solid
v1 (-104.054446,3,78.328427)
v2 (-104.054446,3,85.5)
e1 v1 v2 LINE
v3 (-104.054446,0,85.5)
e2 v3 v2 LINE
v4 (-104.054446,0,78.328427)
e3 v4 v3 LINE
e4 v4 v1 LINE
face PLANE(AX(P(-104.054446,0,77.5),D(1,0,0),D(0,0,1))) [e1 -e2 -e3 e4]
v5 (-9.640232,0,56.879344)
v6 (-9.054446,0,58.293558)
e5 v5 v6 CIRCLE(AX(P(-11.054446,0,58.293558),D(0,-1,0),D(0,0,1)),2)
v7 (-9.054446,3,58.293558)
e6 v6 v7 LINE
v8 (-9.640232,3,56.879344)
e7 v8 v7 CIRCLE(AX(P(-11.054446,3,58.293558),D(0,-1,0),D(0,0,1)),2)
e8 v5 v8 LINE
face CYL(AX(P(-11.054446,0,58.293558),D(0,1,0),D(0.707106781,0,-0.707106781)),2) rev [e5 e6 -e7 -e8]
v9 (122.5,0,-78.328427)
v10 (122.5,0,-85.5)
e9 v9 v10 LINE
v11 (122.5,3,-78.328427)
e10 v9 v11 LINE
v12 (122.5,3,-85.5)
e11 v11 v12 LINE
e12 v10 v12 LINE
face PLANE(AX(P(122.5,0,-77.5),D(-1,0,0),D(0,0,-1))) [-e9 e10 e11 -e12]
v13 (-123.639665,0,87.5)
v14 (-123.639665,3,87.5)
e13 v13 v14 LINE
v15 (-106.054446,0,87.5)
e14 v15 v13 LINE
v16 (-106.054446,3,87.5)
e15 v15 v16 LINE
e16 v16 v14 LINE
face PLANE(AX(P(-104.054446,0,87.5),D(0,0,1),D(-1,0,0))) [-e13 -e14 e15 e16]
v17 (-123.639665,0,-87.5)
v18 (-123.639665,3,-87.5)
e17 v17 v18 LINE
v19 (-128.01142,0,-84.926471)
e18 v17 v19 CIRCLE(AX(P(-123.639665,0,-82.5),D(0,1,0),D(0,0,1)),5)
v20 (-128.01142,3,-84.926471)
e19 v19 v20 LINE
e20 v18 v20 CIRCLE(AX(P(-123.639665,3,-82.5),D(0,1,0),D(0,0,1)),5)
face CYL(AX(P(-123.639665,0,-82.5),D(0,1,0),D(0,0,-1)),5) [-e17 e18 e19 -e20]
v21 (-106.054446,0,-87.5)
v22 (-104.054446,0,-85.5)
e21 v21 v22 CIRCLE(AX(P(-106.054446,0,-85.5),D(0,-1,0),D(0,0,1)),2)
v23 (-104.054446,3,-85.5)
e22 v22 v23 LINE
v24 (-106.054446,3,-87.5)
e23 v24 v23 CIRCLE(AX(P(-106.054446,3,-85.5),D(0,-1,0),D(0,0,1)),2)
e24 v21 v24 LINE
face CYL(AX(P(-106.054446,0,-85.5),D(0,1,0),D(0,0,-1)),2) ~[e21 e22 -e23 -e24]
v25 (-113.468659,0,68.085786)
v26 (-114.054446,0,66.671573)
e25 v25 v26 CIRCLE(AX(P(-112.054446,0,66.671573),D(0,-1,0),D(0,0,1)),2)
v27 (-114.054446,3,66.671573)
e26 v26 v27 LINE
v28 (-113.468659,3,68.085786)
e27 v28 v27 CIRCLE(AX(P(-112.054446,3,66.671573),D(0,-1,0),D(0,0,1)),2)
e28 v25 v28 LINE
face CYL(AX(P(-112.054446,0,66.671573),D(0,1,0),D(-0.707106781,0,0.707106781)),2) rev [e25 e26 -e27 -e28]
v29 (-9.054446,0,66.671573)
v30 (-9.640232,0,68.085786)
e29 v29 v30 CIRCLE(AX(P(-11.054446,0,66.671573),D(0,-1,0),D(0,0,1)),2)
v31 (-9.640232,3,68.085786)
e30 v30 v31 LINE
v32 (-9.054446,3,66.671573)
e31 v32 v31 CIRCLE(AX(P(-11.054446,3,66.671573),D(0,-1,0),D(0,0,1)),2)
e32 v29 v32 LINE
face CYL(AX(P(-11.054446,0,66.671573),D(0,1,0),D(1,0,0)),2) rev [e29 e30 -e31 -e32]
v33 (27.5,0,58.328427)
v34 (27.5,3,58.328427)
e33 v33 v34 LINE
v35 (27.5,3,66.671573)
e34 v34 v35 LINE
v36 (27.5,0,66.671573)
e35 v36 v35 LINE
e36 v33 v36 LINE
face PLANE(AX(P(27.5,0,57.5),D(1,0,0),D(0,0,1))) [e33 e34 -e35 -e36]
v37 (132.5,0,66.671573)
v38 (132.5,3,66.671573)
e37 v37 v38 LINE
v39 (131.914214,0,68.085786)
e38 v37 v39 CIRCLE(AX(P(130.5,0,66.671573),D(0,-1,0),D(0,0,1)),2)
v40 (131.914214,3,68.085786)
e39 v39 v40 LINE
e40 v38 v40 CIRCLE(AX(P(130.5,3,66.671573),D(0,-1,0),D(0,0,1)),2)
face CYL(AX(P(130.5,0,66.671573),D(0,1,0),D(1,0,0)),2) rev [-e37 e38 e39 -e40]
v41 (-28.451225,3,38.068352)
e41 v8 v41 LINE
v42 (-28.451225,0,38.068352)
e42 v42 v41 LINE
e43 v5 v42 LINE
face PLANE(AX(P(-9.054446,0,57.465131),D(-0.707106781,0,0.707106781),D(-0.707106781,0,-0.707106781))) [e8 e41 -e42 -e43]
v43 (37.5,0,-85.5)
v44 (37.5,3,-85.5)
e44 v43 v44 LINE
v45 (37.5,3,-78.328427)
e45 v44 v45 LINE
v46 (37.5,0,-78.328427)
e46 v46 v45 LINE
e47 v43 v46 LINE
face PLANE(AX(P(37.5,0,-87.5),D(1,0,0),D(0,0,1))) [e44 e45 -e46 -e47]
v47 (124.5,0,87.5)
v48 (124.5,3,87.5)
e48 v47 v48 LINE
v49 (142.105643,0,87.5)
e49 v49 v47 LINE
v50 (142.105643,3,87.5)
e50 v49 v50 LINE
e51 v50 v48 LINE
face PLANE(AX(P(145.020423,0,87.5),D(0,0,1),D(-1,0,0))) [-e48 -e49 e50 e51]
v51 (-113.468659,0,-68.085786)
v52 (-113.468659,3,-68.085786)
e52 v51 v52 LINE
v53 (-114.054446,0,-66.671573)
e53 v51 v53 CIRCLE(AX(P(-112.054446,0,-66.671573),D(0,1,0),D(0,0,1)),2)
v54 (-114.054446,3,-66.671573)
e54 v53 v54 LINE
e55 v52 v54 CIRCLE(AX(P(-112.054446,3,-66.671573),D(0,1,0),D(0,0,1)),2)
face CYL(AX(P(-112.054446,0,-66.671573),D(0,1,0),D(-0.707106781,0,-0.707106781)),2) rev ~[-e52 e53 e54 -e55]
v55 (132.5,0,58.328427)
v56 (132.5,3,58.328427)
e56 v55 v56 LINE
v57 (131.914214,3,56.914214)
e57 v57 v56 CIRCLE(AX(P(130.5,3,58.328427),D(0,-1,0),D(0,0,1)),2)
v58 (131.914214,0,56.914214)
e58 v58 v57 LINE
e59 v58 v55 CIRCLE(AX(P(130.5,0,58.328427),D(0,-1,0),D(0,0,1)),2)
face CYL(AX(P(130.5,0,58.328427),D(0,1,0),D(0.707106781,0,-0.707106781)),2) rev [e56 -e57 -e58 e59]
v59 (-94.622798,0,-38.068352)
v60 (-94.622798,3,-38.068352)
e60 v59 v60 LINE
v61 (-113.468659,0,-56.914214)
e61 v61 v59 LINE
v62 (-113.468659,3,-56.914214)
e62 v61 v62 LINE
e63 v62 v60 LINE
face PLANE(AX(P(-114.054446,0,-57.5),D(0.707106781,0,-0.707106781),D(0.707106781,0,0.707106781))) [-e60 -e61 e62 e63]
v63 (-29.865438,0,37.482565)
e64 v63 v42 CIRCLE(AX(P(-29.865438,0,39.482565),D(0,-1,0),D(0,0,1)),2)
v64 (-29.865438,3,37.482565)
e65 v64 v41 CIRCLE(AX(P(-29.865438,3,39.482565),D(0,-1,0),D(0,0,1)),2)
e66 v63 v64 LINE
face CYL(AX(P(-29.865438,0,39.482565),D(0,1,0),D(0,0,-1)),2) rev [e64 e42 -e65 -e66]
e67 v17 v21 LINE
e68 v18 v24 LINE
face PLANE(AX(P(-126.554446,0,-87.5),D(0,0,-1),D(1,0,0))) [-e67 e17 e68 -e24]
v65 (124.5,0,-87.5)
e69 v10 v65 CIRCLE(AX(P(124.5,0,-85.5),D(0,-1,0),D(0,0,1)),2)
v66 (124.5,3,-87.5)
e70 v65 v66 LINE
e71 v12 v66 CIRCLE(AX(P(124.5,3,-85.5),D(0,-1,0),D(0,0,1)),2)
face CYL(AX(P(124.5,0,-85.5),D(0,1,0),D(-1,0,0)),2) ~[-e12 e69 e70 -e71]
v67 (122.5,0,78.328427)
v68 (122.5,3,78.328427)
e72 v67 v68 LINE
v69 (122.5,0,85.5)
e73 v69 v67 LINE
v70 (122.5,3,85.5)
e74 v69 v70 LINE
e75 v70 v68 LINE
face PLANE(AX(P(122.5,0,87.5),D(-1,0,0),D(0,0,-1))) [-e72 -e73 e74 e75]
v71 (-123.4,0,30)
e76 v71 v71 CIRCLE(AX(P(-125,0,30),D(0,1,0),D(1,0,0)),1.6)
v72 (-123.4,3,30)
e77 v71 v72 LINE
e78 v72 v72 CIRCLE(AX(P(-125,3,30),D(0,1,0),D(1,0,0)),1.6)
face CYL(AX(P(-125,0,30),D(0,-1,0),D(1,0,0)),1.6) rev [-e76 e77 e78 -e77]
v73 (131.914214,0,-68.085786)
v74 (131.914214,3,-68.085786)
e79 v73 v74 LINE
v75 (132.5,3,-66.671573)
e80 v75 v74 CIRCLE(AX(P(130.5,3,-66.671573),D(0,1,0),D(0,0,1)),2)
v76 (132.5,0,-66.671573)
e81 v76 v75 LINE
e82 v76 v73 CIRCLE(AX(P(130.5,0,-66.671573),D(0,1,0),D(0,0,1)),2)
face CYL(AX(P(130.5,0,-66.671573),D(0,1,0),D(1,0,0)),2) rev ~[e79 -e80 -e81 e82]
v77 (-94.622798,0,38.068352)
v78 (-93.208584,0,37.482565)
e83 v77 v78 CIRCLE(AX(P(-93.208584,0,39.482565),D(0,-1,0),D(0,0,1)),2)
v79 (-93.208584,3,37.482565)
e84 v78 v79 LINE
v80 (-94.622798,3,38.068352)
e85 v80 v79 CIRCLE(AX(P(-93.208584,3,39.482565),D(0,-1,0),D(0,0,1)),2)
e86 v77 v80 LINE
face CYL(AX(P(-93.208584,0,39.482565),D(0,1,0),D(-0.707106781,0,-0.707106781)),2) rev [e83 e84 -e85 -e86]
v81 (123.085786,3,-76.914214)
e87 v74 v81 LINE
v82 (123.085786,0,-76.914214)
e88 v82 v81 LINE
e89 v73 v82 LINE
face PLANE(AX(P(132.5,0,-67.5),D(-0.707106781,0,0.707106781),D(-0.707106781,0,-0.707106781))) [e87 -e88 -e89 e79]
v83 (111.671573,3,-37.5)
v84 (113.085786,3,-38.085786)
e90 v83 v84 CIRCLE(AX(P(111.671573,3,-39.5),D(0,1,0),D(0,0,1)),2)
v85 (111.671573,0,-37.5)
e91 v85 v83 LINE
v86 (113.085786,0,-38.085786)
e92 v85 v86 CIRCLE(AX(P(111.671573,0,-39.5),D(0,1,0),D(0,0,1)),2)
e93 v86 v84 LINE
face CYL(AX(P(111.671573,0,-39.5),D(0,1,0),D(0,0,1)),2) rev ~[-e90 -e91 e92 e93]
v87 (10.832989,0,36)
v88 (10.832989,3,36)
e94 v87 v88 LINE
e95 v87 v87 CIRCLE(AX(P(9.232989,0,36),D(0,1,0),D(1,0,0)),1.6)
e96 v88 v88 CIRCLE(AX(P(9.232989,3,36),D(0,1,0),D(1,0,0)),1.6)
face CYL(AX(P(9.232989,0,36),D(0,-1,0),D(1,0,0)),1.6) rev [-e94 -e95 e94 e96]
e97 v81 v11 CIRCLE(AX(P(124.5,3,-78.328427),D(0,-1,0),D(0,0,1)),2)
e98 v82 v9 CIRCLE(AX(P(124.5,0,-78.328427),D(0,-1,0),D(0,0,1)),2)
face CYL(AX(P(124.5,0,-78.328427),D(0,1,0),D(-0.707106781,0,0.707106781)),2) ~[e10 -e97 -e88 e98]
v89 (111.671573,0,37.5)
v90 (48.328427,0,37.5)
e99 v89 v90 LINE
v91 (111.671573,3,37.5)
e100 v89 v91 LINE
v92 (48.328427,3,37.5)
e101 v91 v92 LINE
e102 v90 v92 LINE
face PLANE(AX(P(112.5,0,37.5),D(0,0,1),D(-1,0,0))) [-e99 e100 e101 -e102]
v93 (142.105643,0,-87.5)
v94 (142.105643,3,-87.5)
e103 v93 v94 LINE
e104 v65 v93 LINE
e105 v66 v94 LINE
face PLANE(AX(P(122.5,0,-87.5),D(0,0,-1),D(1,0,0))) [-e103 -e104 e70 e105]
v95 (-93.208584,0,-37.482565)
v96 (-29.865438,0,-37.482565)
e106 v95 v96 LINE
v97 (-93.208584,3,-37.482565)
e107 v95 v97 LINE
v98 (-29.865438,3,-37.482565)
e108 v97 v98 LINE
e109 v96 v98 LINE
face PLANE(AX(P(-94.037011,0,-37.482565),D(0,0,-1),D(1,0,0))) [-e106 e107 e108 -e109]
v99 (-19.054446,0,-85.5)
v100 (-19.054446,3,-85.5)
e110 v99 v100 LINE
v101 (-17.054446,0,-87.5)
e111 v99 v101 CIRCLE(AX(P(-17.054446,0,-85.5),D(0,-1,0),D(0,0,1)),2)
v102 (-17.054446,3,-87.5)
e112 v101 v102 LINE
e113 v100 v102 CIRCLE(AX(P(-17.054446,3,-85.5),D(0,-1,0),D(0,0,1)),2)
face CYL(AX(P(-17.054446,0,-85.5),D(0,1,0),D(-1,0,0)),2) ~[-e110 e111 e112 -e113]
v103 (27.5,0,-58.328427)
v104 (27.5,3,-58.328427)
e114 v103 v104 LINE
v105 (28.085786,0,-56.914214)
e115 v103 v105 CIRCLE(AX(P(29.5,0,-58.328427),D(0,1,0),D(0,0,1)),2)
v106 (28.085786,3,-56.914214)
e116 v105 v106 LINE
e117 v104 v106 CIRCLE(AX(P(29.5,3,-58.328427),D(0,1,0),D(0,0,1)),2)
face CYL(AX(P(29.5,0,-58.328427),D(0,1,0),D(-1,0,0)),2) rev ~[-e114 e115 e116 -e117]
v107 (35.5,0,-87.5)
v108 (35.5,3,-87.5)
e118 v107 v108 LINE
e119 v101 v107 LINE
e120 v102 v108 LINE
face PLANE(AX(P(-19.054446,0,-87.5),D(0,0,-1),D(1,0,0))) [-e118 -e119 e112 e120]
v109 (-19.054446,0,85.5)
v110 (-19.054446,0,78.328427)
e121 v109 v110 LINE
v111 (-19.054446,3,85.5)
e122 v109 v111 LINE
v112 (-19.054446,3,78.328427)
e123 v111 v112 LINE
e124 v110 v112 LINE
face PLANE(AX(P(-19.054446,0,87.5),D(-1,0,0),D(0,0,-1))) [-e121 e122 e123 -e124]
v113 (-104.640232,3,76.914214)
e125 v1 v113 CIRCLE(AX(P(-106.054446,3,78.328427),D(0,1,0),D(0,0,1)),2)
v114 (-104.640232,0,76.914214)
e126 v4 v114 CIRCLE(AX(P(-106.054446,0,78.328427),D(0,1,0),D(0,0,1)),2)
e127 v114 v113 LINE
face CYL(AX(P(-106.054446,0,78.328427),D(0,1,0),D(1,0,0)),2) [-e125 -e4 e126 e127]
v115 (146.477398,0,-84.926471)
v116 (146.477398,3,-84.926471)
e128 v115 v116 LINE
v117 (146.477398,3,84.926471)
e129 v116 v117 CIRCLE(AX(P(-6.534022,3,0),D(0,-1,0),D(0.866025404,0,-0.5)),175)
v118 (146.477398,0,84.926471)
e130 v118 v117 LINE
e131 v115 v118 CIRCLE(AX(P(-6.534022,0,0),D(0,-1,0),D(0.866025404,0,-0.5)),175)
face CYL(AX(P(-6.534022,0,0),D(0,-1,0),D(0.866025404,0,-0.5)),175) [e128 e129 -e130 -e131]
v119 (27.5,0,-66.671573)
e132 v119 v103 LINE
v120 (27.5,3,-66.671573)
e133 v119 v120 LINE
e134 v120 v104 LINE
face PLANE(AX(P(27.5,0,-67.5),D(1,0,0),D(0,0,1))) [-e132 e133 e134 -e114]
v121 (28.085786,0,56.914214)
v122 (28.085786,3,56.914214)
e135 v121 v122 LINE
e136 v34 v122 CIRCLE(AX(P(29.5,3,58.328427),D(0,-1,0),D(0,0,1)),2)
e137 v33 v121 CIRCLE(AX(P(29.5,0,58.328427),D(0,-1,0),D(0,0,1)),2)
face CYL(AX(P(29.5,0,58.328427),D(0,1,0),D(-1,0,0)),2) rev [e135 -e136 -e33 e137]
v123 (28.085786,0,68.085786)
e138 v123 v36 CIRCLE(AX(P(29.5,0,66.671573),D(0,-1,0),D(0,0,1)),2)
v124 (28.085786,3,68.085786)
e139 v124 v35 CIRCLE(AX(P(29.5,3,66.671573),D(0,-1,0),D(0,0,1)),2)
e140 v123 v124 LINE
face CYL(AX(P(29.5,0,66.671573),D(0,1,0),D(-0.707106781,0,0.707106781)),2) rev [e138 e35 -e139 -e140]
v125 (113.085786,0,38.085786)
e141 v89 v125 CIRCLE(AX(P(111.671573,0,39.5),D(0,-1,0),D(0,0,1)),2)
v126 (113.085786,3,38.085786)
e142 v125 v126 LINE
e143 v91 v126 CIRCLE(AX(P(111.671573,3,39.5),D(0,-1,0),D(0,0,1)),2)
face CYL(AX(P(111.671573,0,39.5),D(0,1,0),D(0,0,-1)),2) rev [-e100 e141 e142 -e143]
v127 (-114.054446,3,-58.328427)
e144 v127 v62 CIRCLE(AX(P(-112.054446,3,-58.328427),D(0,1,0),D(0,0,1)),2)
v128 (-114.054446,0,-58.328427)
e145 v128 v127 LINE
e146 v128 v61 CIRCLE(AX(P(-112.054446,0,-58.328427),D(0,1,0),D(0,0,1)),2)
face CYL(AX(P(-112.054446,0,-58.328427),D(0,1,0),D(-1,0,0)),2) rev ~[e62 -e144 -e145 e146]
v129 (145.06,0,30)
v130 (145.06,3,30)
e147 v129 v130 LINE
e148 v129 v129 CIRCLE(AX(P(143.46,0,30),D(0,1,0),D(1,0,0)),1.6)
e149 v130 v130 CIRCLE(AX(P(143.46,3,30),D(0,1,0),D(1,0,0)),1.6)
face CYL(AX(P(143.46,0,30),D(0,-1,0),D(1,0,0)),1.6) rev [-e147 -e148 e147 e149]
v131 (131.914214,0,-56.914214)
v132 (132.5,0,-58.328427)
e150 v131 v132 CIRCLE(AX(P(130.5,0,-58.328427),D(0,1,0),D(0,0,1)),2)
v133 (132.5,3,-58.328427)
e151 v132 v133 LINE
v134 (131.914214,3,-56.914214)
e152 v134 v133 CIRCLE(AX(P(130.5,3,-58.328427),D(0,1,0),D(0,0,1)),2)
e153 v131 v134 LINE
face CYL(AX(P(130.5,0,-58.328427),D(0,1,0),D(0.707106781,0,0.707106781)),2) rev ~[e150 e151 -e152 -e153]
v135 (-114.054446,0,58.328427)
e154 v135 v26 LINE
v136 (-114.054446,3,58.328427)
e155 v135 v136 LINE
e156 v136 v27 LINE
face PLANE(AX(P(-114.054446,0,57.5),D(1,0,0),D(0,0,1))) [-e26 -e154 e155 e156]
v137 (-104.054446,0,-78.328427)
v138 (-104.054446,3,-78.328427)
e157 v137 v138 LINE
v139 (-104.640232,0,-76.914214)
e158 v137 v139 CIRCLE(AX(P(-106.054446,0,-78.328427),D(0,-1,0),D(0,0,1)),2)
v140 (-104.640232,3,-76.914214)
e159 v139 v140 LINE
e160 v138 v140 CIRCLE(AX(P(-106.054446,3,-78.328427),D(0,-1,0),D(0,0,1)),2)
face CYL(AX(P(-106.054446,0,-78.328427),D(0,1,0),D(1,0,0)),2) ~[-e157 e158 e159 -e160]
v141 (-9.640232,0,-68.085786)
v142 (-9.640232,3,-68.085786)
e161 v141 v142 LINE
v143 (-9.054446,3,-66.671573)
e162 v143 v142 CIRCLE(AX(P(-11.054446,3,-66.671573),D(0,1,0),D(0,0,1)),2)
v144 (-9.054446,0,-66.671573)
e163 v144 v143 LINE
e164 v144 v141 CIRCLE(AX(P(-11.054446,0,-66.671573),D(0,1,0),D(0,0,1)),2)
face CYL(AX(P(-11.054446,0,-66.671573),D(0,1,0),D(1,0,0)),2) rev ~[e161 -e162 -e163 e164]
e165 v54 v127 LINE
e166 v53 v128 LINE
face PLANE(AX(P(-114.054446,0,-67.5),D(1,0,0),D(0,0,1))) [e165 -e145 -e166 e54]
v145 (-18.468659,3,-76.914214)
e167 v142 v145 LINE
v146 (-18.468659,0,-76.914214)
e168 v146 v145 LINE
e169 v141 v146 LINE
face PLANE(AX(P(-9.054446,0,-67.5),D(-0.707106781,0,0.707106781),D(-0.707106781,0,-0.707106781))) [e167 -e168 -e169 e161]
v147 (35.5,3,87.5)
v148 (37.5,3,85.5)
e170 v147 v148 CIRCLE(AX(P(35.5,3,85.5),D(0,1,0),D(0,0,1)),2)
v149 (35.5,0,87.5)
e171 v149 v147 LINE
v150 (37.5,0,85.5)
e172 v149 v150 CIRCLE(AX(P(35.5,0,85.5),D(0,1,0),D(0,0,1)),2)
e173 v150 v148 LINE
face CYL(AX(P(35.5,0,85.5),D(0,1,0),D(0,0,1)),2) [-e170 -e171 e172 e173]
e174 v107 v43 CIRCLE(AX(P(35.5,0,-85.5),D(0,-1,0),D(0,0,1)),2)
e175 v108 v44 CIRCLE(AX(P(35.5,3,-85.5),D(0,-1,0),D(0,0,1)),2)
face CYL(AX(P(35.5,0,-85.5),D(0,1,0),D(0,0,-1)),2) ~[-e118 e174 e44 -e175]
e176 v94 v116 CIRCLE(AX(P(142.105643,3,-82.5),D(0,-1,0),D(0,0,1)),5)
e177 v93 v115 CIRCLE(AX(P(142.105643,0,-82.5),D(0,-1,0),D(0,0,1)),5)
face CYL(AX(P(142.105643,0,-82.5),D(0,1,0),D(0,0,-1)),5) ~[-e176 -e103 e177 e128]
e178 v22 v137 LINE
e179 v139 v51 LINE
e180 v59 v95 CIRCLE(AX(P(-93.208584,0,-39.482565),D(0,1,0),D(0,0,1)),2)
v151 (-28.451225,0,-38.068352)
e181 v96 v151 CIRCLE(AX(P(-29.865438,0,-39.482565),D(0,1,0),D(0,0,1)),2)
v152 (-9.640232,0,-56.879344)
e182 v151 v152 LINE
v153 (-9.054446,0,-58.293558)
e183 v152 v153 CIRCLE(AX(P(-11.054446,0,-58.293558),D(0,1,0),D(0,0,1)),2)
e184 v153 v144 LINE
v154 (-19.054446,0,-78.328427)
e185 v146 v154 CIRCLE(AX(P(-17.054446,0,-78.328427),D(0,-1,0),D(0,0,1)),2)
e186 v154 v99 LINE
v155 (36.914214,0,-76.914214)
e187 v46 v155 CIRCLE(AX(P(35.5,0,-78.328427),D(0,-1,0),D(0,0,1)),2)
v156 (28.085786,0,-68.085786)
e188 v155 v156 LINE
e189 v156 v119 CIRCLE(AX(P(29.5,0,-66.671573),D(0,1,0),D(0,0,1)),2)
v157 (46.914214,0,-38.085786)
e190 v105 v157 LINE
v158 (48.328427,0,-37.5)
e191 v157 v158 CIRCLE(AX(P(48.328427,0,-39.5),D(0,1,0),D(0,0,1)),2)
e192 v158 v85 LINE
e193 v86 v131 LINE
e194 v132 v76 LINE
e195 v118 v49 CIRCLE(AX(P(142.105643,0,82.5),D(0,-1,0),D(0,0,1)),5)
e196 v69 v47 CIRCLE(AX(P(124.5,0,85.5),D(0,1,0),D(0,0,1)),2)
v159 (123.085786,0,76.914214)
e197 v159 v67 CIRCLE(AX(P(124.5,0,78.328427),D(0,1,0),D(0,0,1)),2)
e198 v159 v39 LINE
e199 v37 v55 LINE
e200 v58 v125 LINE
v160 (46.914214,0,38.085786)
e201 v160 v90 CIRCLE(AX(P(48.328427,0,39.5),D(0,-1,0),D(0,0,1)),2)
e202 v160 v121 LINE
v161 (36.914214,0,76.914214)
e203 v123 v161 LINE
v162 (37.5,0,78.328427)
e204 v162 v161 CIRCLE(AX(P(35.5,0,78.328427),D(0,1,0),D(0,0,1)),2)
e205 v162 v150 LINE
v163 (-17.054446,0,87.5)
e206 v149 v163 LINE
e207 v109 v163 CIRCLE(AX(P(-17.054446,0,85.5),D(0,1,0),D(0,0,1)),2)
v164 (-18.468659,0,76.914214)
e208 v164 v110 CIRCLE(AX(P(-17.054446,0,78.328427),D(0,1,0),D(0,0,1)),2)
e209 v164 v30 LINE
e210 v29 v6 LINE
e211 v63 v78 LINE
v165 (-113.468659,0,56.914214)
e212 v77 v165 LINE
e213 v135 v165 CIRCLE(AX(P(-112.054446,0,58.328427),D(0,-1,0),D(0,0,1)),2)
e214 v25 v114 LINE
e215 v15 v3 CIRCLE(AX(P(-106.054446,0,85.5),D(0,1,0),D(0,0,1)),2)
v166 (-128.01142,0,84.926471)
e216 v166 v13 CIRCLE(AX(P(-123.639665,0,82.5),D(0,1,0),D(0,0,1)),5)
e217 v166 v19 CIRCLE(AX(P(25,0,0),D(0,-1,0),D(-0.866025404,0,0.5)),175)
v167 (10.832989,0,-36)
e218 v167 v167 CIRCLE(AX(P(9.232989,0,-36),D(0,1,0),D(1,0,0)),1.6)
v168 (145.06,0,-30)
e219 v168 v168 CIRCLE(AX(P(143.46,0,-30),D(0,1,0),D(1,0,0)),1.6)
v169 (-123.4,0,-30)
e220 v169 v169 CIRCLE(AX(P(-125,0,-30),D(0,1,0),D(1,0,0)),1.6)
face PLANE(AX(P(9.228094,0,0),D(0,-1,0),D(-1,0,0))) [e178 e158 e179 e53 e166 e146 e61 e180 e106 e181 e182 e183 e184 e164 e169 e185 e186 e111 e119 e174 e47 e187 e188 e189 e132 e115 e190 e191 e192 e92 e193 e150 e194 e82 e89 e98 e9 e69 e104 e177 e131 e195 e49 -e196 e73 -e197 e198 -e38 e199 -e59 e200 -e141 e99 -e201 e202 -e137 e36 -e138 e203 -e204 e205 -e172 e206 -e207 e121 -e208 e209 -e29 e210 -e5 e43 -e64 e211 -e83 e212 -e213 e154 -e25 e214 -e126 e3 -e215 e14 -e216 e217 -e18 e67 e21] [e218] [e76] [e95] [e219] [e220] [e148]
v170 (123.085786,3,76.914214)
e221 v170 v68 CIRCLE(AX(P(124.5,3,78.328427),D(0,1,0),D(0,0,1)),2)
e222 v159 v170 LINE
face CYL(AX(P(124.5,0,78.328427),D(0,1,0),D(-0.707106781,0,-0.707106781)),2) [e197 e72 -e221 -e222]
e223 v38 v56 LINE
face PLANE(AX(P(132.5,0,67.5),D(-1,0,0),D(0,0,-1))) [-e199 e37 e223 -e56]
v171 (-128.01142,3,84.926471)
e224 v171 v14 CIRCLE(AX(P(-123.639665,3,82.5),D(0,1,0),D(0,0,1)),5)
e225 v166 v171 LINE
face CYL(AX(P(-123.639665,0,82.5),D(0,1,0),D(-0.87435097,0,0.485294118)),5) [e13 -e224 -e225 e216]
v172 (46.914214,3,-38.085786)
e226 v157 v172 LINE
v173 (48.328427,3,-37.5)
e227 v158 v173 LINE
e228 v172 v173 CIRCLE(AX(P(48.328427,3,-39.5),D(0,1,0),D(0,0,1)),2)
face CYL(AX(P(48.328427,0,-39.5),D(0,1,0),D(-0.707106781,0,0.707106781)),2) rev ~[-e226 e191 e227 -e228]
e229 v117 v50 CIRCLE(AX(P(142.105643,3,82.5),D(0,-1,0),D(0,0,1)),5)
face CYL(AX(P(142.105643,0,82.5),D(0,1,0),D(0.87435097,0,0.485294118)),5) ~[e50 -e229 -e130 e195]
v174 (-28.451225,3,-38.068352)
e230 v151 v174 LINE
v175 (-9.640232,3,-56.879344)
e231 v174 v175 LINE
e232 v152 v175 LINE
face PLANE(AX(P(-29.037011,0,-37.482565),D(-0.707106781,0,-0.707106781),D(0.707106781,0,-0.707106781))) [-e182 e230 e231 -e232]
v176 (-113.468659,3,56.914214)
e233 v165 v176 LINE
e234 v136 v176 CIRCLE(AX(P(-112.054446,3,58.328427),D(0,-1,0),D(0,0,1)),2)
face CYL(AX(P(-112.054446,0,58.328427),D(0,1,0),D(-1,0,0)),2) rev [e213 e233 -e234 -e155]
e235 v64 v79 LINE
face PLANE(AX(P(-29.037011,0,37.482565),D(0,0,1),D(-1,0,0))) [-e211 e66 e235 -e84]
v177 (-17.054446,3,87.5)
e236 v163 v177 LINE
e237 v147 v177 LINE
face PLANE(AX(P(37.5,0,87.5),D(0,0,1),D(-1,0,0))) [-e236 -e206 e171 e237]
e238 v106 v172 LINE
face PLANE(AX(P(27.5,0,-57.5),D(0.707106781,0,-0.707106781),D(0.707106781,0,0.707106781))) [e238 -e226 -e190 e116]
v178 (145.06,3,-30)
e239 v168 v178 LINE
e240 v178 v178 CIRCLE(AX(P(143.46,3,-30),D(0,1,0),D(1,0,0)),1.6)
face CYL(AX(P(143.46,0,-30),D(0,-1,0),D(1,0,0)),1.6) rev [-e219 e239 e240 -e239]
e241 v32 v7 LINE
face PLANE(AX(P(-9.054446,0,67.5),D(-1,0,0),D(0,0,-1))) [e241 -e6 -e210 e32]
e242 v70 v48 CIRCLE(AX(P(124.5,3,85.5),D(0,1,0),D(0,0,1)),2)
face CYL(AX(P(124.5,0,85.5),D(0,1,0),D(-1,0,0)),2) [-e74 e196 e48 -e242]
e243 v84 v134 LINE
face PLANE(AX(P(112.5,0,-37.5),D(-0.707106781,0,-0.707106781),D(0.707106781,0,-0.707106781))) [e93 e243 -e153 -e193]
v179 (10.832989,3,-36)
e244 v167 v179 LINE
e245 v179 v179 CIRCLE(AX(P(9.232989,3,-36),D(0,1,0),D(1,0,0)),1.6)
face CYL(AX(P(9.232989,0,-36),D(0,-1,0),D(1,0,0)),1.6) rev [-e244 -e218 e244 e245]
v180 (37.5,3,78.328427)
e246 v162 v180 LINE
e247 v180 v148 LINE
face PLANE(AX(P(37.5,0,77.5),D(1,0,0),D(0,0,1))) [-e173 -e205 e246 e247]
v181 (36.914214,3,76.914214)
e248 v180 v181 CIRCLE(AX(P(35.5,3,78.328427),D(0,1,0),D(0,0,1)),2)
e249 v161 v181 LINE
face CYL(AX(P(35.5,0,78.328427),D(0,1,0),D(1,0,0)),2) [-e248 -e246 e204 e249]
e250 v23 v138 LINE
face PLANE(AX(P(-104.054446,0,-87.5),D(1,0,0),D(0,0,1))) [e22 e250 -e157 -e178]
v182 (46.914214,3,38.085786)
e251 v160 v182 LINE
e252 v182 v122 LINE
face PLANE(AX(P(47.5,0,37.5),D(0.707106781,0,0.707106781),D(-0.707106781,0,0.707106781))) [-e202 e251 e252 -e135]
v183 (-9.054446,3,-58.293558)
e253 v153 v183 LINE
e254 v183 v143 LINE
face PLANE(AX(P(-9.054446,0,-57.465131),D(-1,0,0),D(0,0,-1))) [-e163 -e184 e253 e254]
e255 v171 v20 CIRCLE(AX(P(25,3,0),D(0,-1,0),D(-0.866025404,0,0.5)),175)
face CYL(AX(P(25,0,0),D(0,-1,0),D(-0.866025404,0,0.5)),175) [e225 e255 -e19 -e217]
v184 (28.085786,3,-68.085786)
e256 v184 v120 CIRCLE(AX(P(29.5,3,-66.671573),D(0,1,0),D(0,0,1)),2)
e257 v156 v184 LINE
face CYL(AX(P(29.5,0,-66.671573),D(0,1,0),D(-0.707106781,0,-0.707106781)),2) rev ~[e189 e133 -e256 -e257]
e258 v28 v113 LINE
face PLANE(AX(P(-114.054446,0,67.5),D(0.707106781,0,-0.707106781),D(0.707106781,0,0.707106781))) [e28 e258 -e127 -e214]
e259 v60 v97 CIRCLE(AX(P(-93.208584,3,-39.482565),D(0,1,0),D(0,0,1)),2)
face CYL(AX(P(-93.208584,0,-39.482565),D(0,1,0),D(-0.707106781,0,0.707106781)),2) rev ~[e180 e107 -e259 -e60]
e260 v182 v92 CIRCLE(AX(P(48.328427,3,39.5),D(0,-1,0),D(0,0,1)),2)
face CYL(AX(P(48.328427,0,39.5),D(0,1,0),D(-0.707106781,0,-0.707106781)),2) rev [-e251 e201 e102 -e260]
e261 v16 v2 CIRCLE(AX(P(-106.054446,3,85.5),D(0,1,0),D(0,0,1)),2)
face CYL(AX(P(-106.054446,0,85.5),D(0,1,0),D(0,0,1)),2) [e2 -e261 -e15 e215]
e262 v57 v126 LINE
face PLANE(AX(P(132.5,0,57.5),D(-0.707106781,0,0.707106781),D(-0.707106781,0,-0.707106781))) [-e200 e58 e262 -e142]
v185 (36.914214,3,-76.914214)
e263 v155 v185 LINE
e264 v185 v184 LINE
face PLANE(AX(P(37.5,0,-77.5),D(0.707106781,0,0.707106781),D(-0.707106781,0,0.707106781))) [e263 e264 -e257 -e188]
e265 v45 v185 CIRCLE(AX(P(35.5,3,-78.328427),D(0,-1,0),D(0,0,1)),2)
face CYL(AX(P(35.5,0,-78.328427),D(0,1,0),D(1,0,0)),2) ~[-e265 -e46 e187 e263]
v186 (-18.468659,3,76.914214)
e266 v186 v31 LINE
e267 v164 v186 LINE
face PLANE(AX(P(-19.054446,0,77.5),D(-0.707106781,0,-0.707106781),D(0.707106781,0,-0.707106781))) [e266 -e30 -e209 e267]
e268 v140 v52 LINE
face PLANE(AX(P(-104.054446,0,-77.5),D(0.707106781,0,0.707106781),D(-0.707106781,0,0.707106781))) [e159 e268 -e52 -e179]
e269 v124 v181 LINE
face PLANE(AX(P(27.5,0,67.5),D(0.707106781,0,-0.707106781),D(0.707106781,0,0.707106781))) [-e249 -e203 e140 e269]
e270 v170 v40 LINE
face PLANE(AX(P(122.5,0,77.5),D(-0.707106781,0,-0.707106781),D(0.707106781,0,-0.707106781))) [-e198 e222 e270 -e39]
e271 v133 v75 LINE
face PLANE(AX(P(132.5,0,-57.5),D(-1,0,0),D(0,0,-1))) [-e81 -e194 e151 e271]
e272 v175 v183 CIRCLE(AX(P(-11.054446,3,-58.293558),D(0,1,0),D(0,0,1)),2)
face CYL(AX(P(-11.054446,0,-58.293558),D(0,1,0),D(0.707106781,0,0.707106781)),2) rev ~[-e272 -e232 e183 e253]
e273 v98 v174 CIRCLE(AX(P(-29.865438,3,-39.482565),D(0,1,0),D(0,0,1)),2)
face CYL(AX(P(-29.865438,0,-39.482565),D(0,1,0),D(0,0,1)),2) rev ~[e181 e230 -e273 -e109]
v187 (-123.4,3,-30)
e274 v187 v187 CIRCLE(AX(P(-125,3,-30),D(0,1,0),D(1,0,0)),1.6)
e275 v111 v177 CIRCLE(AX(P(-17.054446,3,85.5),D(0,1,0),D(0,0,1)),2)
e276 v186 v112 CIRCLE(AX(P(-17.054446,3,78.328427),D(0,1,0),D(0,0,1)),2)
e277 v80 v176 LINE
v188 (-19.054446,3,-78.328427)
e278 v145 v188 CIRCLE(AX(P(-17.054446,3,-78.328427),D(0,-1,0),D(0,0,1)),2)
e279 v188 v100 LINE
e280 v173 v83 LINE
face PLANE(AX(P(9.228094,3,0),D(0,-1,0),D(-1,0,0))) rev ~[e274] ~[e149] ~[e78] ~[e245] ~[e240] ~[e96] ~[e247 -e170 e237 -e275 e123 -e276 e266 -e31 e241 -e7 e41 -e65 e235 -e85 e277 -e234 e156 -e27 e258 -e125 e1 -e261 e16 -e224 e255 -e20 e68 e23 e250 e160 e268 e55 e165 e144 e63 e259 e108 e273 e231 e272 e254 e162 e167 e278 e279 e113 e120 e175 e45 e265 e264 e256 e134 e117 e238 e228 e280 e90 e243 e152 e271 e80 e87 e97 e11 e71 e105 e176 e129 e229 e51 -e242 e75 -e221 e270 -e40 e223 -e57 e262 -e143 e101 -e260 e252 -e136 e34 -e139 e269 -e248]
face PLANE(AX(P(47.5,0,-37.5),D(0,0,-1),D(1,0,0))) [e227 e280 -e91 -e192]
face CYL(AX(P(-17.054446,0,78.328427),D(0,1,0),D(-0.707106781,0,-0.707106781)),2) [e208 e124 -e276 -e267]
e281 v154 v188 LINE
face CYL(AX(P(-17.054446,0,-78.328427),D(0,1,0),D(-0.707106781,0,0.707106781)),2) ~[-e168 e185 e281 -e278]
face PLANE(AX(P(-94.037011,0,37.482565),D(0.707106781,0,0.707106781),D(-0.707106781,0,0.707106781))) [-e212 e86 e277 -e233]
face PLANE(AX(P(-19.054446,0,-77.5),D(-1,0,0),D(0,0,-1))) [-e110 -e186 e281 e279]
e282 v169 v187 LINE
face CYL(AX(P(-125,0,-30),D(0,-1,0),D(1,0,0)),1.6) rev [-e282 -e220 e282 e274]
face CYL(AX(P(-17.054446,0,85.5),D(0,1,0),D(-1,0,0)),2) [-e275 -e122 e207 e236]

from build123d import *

# Parameters (mm, degrees)
SKETCH1_R           = 1.6
BOSS_EXTRUDE1_DEPTH = 3
FILLET1_R           = 2
FILLET2_R           = 5


with BuildPart() as part:
    # Sketch1 → Boss-Extrude1 (new body)
    with BuildSketch(Plane(origin=(0, 0, 0), x_dir=(1, 0, 0), z_dir=(0, 1, 0))):
        with BuildLine():
            Line((-126.554445662, 87.5), (-104.054445662, 87.5))
            Line((-104.054445662, 87.5), (-104.054445662, 77.5))
            Line((-104.054445662, 77.5), (-114.054445662, 67.5))
            Line((-114.054445662, 67.5), (-114.054445662, 57.5))
            Line((-114.054445662, 57.5), (-94.037011093, 37.482565431))
            Line((-94.037011093, 37.482565431), (-66.537011093, 37.482565431))
            Line((-66.537011093, 37.482565431), (-56.537011093, 37.482565431))
            Line((-56.537011093, 37.482565431), (-29.037011093, 37.482565431))
            Line((-29.037011093, 37.482565431), (-9.054445662, 57.465130862))
            Line((-9.054445662, 57.465130862), (-9.054445662, 67.5))
            Line((-9.054445662, 67.5), (-19.054445662, 77.5))
            Line((-19.054445662, 77.5), (-19.054445662, 87.5))
            Line((-19.054445662, 87.5), (37.5, 87.5))
            Line((37.5, 87.5), (37.5, 77.5))
            Line((37.5, 77.5), (27.5, 67.5))
            Line((27.5, 67.5), (27.5, 57.5))
            Line((27.5, 57.5), (47.5, 37.5))
            Line((47.5, 37.5), (72.157583055, 37.5))
            Line((72.157583055, 37.5), (87.842416945, 37.5))
            Line((87.842416945, 37.5), (112.5, 37.5))
            Line((112.5, 37.5), (132.5, 57.5))
            Line((132.5, 57.5), (132.5, 67.5))
            Line((132.5, 67.5), (122.5, 77.5))
            Line((122.5, 77.5), (122.5, 87.5))
            Line((122.5, 87.5), (136.956007081, 87.5))
            Line((136.956007081, 87.5), (145.020423476, 87.5))
            ThreePointArc((145.020423476, 87.5), (168.465977814, 0), (145.020423476, -87.5))
            Line((145.020423476, -87.5), (136.956007081, -87.5))
            Line((136.956007081, -87.5), (122.5, -87.5))
            Line((122.5, -87.5), (122.5, -77.5))
            Line((122.5, -77.5), (132.5, -67.5))
            Line((132.5, -67.5), (132.5, -57.5))
            Line((132.5, -57.5), (112.5, -37.5))
            Line((112.5, -37.5), (87.842416945, -37.5))
            Line((87.842416945, -37.5), (72.157583055, -37.5))
            Line((72.157583055, -37.5), (47.5, -37.5))
            Line((47.5, -37.5), (27.5, -57.5))
            Line((27.5, -57.5), (27.5, -67.5))
            Line((27.5, -67.5), (37.5, -77.5))
            Line((37.5, -77.5), (37.5, -87.5))
            Line((37.5, -87.5), (-19.054445662, -87.5))
            Line((-19.054445662, -87.5), (-19.054445662, -77.5))
            Line((-19.054445662, -77.5), (-9.054445662, -67.5))
            Line((-9.054445662, -67.5), (-9.054445662, -57.465130862))
            Line((-9.054445662, -57.465130862), (-29.037011093, -37.482565431))
            Line((-29.037011093, -37.482565431), (-56.537011093, -37.482565431))
            Line((-56.537011093, -37.482565431), (-66.537011093, -37.482565431))
            Line((-66.537011093, -37.482565431), (-94.037011093, -37.482565431))
            Line((-94.037011093, -37.482565431), (-114.054445662, -57.5))
            Line((-114.054445662, -57.5), (-114.054445662, -67.5))
            Line((-114.054445662, -67.5), (-104.054445662, -77.5))
            Line((-104.054445662, -77.5), (-104.054445662, -87.5))
            Line((-104.054445662, -87.5), (-126.554445662, -87.5))
            ThreePointArc((-126.554445662, -87.5), (-150, 0), (-126.554445662, 87.5))
        make_face()
        with Locations((-125, -30)):
            Circle(SKETCH1_R, mode=Mode.SUBTRACT)
        with Locations((9.232988907, -36)):
            Circle(SKETCH1_R, mode=Mode.SUBTRACT)
        with Locations((143.46, -30)):
            Circle(SKETCH1_R, mode=Mode.SUBTRACT)
        with Locations((143.46, 30)):
            Circle(SKETCH1_R, mode=Mode.SUBTRACT)
        with Locations((9.232988907, 36)):
            Circle(SKETCH1_R, mode=Mode.SUBTRACT)
        with Locations((-125, 30)):
            Circle(SKETCH1_R, mode=Mode.SUBTRACT)
    extrude(amount=BOSS_EXTRUDE1_DEPTH)

    # Fillet1
    fillet1_edges = [part.edges().sort_by_distance(p)[0] for p in [
        (-104.054445662, 1.5, 87.5),
        (-104.054445662, 1.5, -87.5),
        (-104.054445662, 1.5, -77.5),
        (-114.054445662, 1.5, -67.5),
        (-114.054445662, 1.5, -57.5),
        (-94.037011093, 1.5, -37.482565431),
        (-29.037011093, 1.5, -37.482565431),
        (-9.054445662, 1.5, -57.465130862),
        (-9.054445662, 1.5, -67.5),
        (-19.054445662, 1.5, -77.5),
        (-19.054445662, 1.5, -87.5),
        (37.5, 1.5, -87.5),
        (37.5, 1.5, -77.5),
        (27.5, 1.5, -67.5),
        (27.5, 1.5, -57.5),
        (47.5, 1.5, -37.5),
        (112.5, 1.5, -37.5),
        (132.5, 1.5, -57.5),
        (132.5, 1.5, -67.5),
        (122.5, 1.5, -77.5),
        (122.5, 1.5, -87.5),
        (122.5, 1.5, 87.5),
        (122.5, 1.5, 77.5),
        (132.5, 1.5, 67.5),
        (132.5, 1.5, 57.5),
        (112.5, 1.5, 37.5),
        (47.5, 1.5, 37.5),
        (27.5, 1.5, 57.5),
        (27.5, 1.5, 67.5),
        (37.5, 1.5, 77.5),
        (37.5, 1.5, 87.5),
        (-19.054445662, 1.5, 87.5),
        (-19.054445662, 1.5, 77.5),
        (-9.054445662, 1.5, 67.5),
        (-9.054445662, 1.5, 57.465130862),
        (-29.037011093, 1.5, 37.482565431),
        (-94.037011093, 1.5, 37.482565431),
        (-114.054445662, 1.5, 57.5),
        (-114.054445662, 1.5, 67.5),
        (-104.054445662, 1.5, 77.5),
    ]]
    fillet(fillet1_edges, radius=FILLET1_R)

    # Fillet2
    fillet2_edges = [part.edges().sort_by_distance(p)[0] for p in [
        (-126.554445662, 1.5, 87.5),
        (-126.554445662, 1.5, -87.5),
        (145.020423476, 1.5, -87.5),
        (145.020423476, 1.5, 87.5),
    ]]
    fillet(fillet2_edges, radius=FILLET2_R)


solid = part.part
